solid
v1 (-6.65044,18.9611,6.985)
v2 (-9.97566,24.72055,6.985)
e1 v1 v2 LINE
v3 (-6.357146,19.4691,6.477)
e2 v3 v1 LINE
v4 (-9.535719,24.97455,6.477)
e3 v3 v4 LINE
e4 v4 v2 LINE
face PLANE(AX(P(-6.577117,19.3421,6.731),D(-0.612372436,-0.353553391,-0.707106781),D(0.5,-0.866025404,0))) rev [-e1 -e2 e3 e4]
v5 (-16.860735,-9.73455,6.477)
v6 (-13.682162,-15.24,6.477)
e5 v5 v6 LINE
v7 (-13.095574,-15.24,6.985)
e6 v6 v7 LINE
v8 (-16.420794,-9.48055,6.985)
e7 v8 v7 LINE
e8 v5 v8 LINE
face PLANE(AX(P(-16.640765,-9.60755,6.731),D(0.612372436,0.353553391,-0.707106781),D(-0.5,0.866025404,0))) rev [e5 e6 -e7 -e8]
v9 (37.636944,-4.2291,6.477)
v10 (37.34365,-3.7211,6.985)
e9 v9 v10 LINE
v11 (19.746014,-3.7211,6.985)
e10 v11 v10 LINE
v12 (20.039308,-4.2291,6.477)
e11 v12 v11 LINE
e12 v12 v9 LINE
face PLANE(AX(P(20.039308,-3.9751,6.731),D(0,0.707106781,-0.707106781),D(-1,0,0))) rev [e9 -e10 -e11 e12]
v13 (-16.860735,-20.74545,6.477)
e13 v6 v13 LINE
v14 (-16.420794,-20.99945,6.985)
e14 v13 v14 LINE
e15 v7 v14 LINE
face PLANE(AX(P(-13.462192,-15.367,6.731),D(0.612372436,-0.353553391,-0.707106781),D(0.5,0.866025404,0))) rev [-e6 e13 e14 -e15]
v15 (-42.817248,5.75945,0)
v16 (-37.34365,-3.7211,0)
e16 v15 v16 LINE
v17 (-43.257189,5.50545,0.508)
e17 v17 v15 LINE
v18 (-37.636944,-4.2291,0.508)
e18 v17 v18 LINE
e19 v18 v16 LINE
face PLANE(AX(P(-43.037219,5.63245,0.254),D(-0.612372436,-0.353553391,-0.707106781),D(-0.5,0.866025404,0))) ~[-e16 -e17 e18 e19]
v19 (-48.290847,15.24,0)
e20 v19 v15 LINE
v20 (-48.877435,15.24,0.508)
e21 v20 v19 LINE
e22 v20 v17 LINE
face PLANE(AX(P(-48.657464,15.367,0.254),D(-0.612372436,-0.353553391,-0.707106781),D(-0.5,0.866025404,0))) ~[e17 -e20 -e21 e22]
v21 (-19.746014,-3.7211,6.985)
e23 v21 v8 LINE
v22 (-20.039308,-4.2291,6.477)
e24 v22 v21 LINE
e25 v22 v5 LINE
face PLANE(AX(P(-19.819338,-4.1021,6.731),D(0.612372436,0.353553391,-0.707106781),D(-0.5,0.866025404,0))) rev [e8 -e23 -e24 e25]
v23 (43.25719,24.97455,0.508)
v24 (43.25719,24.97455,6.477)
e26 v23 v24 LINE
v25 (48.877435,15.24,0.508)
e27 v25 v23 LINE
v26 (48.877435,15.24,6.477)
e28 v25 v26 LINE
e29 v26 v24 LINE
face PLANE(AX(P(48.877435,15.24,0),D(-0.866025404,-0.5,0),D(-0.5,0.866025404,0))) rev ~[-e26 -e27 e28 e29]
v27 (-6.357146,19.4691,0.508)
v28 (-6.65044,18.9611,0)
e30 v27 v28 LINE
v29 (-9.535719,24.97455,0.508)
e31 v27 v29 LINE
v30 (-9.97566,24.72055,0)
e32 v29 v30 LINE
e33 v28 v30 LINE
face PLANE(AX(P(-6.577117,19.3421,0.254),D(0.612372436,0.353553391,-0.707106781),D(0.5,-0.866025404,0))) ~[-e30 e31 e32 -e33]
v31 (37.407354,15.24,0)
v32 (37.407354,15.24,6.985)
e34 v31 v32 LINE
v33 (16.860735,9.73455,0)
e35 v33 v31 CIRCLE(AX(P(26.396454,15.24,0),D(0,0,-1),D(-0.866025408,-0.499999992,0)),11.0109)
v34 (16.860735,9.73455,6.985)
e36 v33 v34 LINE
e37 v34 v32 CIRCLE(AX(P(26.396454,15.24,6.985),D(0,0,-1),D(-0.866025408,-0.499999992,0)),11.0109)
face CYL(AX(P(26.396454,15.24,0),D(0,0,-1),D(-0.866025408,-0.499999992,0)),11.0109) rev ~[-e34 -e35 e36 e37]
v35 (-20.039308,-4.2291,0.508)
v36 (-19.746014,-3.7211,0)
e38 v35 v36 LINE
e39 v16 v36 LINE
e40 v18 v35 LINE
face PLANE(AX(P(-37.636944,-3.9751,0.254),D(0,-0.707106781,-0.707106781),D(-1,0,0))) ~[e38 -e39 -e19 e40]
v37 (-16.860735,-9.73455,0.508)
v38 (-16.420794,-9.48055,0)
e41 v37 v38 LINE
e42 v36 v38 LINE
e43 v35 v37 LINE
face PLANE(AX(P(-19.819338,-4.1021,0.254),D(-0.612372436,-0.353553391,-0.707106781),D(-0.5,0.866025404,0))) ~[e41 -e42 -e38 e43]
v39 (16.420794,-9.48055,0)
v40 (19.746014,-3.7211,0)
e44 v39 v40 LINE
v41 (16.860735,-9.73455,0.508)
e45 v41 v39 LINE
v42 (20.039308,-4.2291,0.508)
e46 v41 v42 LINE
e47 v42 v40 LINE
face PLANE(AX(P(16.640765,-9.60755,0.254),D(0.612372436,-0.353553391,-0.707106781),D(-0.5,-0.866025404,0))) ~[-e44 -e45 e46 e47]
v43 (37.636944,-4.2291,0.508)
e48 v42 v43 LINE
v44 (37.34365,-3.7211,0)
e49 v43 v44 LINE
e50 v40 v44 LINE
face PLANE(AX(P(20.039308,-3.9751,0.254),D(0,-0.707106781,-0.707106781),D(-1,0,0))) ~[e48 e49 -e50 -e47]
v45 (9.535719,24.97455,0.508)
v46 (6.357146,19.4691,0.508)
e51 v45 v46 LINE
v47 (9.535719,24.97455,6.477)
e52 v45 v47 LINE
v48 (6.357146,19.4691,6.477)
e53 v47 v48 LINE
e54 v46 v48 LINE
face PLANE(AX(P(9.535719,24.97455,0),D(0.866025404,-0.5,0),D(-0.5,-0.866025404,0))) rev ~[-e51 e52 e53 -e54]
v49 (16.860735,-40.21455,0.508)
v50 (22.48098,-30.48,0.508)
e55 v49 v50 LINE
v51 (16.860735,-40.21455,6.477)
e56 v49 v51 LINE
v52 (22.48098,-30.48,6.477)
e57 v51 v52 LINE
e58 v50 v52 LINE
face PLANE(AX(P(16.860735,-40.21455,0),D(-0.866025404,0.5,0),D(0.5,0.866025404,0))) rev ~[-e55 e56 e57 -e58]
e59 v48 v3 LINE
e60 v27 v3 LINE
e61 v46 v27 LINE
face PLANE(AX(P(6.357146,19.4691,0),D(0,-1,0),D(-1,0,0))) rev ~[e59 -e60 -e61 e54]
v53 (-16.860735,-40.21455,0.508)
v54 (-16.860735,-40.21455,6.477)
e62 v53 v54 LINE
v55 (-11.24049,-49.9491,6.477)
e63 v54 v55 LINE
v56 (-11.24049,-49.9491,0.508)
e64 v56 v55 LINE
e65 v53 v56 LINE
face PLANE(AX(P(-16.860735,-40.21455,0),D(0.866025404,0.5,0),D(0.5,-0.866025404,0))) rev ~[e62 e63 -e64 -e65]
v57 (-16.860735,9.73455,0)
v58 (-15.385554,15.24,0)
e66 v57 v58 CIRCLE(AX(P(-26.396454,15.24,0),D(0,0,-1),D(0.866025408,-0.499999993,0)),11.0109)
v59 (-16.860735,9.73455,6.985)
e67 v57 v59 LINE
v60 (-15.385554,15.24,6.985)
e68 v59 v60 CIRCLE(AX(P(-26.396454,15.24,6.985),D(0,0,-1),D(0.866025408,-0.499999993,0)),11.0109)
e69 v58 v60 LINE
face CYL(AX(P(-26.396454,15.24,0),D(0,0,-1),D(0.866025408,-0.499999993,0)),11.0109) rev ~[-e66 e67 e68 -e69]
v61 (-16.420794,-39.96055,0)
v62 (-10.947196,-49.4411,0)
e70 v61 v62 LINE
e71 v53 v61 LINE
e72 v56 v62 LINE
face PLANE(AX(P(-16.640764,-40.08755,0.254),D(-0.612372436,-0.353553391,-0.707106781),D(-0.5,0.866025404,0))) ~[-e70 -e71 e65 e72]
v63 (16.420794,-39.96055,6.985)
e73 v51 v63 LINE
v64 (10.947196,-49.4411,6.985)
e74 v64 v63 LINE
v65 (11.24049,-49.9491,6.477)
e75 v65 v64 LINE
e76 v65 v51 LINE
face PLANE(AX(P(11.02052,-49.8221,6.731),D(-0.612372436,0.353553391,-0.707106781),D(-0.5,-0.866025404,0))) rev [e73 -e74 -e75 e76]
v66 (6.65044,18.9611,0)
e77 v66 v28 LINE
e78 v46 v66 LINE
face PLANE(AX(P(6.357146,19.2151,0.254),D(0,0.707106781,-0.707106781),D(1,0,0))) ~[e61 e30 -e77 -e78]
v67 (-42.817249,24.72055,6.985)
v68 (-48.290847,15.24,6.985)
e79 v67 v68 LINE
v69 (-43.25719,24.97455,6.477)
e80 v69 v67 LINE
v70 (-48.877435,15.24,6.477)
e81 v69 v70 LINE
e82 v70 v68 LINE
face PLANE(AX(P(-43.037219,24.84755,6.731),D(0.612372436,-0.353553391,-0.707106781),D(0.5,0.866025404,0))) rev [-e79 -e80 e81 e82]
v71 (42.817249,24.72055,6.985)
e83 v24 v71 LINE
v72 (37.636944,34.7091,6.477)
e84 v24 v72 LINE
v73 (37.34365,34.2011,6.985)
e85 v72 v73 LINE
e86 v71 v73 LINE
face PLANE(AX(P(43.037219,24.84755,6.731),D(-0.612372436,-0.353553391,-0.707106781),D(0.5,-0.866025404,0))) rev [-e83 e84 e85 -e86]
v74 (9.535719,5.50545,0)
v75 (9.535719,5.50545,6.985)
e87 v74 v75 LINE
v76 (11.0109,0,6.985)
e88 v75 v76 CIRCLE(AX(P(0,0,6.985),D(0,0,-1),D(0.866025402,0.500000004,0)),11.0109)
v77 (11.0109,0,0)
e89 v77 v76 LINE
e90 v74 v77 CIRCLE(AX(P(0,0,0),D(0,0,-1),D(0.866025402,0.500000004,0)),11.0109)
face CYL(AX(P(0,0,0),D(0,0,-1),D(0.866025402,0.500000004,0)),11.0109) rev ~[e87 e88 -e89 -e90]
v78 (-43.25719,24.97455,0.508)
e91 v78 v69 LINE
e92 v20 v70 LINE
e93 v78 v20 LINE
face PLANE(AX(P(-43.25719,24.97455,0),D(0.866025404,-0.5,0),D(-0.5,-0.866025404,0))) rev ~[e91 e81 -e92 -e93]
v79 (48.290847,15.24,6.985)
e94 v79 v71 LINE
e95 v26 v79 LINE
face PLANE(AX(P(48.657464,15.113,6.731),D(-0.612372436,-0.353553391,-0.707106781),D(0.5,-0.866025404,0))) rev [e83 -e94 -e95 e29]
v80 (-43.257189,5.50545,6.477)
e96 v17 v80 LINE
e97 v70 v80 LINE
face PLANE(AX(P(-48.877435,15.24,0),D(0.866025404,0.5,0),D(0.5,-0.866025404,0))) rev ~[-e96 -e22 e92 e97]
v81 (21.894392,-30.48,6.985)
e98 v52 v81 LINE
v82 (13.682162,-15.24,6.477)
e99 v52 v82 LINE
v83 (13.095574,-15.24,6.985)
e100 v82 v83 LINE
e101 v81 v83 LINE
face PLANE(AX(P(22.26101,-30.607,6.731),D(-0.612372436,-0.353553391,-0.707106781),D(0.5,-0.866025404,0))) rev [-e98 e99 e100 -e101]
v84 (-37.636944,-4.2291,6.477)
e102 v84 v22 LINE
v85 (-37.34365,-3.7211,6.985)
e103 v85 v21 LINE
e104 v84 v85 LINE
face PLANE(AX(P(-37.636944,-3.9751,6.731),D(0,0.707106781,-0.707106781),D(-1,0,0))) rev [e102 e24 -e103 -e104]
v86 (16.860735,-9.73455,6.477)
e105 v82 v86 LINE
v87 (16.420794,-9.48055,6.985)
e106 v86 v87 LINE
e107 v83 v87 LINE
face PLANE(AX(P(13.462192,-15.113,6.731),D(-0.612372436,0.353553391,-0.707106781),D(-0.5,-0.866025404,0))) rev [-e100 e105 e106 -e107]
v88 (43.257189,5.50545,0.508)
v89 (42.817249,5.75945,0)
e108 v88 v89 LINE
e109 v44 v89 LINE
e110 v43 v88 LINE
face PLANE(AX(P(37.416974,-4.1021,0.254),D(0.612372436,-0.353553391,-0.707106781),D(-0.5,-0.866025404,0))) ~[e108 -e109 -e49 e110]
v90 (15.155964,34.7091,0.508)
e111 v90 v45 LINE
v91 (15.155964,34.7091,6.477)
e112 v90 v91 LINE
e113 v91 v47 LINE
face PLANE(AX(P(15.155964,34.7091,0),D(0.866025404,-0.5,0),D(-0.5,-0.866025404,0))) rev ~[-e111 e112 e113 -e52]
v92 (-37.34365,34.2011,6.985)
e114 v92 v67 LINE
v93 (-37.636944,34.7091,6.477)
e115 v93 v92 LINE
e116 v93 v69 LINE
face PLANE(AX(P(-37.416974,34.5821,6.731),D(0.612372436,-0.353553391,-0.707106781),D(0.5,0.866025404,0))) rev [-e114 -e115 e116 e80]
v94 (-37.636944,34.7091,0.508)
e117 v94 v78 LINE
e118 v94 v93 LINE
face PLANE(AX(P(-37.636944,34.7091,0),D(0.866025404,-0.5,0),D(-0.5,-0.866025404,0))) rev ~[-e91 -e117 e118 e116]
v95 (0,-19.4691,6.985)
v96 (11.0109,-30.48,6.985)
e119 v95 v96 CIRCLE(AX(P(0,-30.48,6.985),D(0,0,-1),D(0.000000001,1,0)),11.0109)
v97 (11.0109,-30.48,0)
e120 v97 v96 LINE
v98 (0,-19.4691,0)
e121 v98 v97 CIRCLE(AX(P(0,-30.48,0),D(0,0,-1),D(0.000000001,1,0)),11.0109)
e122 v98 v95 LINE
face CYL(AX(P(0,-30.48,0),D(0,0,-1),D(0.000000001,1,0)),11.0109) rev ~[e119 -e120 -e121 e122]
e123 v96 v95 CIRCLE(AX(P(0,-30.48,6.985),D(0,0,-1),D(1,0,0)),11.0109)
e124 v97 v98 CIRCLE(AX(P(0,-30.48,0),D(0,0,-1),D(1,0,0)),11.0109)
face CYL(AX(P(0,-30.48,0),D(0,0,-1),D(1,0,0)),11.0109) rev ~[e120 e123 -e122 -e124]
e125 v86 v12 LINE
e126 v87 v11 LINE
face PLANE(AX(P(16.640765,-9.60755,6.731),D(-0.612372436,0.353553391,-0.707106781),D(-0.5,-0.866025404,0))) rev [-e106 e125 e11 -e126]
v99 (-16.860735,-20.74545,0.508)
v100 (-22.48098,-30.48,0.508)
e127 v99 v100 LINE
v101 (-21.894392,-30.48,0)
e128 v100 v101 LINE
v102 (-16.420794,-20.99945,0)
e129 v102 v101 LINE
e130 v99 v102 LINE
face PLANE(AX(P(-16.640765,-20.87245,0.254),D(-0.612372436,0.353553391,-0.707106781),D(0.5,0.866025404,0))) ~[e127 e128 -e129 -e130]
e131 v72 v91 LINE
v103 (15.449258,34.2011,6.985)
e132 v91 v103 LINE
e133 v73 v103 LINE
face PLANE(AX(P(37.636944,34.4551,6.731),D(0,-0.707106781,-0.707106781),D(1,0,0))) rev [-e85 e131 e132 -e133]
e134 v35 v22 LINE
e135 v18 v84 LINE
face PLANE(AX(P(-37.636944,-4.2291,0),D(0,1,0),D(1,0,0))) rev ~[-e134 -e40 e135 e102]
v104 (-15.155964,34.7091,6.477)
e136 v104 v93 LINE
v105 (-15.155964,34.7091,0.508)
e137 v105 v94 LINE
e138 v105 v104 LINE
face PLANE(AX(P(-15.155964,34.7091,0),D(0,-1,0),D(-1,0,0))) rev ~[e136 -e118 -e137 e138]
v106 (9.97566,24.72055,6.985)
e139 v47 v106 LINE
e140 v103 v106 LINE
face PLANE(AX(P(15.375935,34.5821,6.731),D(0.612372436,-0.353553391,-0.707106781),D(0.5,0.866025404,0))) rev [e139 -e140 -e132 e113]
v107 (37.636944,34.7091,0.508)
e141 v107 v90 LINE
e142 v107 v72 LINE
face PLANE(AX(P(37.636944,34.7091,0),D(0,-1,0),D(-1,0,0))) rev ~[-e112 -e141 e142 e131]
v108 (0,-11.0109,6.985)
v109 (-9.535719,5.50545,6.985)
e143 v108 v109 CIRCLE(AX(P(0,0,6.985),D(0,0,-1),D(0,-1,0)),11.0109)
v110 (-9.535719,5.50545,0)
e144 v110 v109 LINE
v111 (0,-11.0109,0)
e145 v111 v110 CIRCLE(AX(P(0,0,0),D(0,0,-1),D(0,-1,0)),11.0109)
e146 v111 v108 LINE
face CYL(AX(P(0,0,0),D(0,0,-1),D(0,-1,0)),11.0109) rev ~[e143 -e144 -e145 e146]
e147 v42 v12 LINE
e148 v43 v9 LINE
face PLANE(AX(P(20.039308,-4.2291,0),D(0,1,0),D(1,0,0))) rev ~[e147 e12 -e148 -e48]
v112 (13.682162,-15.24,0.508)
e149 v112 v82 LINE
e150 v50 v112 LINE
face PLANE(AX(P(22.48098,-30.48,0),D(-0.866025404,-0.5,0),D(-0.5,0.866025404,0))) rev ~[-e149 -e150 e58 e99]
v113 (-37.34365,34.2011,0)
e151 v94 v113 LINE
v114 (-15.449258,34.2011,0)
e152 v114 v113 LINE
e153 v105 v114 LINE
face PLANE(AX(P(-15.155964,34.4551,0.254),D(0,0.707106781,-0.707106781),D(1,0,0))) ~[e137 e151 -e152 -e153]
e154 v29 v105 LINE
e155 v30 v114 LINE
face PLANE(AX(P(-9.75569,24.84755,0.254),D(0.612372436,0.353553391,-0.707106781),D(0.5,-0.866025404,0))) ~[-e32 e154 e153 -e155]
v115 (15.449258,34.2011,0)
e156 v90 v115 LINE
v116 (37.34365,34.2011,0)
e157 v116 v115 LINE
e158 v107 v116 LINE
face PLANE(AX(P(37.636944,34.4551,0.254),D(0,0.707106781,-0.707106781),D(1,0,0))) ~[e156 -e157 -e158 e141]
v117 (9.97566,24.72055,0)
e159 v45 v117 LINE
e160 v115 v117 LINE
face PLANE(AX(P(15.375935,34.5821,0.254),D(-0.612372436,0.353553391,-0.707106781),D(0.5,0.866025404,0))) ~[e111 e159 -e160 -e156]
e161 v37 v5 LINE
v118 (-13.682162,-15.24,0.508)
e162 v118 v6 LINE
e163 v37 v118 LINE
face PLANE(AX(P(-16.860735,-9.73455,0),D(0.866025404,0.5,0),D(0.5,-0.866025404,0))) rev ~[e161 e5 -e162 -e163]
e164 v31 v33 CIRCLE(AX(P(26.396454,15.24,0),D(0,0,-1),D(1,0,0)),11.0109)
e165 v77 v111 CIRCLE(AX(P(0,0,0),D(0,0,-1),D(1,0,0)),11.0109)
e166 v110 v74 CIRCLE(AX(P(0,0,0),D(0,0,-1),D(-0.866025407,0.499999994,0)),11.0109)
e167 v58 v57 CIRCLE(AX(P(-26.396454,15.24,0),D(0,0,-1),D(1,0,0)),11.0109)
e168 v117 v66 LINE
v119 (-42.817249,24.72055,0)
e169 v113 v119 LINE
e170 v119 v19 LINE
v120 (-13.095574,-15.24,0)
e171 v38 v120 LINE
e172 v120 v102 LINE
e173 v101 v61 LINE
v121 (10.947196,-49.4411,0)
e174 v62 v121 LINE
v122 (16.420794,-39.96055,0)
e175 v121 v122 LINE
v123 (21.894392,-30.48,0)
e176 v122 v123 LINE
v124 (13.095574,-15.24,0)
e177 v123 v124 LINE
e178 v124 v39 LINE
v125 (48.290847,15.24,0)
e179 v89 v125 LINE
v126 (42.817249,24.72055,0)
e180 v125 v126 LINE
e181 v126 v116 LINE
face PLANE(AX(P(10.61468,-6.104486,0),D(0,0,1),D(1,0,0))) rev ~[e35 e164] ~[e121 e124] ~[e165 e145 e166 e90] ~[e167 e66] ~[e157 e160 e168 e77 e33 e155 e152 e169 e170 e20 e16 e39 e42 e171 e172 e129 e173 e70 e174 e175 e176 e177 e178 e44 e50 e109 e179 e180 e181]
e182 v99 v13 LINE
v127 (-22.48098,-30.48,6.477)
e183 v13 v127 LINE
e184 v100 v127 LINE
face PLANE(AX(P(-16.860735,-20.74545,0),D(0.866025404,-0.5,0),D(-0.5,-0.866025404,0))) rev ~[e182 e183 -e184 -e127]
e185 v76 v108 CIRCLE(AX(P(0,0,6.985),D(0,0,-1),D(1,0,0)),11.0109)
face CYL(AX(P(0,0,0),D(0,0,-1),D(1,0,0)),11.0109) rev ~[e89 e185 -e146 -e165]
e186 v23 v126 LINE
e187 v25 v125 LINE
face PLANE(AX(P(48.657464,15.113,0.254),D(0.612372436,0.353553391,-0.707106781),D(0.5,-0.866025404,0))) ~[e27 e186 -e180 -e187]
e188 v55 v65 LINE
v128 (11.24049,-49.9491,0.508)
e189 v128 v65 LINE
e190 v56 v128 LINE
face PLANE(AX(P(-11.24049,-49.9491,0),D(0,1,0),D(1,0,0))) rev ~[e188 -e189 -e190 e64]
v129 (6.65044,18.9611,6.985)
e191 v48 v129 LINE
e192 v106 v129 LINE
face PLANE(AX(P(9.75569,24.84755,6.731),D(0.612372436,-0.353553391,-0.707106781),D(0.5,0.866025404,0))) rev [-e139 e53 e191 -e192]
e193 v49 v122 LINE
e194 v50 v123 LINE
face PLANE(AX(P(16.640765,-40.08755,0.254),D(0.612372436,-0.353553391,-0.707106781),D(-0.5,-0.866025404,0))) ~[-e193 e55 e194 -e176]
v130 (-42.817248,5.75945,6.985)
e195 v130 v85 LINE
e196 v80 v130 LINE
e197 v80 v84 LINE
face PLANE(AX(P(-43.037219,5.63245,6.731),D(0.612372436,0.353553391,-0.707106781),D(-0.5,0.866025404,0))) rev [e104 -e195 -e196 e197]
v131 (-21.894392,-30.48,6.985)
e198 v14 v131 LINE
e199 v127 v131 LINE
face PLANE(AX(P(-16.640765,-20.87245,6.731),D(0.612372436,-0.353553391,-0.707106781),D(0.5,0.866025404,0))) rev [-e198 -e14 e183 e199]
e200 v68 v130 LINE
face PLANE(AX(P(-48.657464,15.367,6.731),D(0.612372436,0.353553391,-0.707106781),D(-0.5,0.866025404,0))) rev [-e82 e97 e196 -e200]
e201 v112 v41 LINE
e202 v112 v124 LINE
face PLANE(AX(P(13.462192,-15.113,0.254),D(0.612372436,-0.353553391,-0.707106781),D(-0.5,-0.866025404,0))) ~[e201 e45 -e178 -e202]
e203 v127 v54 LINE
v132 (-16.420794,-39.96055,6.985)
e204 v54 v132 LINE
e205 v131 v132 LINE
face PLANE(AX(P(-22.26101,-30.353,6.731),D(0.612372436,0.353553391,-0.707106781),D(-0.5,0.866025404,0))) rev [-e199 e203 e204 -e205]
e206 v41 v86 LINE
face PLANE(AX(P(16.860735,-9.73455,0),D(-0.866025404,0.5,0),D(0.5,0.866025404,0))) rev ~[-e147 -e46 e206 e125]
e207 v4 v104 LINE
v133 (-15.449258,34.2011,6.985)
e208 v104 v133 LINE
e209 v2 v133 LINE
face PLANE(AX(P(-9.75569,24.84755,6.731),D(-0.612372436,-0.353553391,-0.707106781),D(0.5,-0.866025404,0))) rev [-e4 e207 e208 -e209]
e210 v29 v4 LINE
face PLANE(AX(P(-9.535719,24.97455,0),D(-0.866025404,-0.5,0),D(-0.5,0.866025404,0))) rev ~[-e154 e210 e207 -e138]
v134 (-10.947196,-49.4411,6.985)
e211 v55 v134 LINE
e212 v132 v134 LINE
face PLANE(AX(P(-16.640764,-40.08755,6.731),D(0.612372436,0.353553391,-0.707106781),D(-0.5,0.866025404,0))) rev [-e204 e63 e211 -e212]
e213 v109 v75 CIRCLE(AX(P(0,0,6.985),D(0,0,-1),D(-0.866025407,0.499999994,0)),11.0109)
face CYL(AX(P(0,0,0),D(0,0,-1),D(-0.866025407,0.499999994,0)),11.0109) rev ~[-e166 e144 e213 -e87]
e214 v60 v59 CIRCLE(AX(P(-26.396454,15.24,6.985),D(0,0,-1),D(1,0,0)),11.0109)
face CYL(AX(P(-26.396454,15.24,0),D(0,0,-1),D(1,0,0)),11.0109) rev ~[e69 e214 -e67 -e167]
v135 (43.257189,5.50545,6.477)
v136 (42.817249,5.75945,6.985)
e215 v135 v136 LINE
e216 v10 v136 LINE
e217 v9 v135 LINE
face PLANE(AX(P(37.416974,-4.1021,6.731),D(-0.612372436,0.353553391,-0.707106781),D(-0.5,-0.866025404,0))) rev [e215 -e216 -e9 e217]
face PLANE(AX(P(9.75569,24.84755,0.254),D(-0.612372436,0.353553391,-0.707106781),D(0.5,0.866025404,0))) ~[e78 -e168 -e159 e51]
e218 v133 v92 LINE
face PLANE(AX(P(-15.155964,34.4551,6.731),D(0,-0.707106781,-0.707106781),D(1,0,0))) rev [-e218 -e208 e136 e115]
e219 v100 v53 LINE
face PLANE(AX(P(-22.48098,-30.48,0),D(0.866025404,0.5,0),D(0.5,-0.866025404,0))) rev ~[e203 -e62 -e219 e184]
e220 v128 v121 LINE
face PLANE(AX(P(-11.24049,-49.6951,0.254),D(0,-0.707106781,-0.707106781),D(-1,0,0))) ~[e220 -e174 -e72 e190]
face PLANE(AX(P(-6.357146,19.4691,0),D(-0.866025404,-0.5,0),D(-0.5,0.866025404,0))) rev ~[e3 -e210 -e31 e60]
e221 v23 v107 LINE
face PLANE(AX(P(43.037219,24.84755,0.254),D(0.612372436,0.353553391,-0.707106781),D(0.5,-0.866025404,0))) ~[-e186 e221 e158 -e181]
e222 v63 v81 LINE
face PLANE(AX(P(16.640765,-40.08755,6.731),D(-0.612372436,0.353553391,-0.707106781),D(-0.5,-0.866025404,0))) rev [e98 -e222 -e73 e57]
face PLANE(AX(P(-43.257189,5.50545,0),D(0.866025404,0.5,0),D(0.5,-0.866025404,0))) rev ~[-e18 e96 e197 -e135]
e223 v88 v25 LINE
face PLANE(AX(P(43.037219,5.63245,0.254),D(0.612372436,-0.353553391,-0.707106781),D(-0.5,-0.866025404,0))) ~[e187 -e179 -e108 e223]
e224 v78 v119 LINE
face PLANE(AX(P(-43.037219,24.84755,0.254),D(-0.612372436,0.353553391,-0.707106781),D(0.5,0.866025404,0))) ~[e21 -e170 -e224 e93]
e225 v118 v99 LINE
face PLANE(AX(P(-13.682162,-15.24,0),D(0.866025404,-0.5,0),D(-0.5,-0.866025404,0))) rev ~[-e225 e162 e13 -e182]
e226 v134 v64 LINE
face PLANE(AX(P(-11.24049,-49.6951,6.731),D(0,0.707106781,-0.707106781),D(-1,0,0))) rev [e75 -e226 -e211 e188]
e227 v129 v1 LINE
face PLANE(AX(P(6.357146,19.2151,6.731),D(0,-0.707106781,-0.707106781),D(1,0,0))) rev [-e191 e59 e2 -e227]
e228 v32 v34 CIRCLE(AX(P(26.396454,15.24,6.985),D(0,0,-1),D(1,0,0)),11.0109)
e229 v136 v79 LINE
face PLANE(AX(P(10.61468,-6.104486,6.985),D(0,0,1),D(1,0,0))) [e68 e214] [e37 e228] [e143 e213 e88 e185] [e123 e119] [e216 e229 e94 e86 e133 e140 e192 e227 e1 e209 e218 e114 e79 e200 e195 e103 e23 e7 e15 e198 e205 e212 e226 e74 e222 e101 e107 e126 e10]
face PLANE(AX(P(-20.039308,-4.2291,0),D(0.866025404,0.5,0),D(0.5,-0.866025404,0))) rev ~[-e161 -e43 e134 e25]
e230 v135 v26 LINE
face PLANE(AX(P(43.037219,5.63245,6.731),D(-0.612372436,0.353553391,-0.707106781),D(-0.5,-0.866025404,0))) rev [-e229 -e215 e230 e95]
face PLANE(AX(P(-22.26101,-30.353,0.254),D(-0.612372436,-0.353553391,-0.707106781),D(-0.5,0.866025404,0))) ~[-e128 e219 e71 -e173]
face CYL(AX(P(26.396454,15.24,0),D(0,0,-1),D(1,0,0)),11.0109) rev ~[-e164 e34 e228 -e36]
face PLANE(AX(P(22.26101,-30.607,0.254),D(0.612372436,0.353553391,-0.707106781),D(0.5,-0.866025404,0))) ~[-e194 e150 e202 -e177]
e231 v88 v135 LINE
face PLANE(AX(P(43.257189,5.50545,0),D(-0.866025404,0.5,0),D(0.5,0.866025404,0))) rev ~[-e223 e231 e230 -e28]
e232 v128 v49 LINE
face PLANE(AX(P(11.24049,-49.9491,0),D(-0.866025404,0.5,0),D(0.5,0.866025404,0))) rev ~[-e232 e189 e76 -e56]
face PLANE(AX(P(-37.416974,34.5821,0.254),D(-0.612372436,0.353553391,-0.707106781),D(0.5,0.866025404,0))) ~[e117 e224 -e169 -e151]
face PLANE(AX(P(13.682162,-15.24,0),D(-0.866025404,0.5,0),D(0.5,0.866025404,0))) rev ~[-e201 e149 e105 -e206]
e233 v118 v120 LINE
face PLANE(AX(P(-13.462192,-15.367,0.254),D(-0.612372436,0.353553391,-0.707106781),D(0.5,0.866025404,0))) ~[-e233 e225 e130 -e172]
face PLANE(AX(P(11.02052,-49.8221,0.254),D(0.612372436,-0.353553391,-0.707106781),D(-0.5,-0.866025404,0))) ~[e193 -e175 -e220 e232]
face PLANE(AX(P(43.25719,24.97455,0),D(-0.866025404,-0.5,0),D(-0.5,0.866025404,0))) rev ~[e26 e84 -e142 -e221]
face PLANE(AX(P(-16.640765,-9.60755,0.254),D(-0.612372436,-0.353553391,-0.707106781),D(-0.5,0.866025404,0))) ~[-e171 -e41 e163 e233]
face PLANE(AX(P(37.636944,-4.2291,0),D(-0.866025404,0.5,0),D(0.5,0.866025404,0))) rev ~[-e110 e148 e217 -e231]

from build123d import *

# Parameters (mm, degrees)
F1_DEPTH = 6.985
F2_SIZE  = 0.508


with BuildPart() as f1:
    # F0 (on Top) → F1 (new body)
    with BuildSketch(Plane.XY):
        with BuildLine():
            ThreePointArc((9.5357190946, 5.5054500415), (10.6357126745, 2.8498306468), (11.0109, 0))
            ThreePointArc((11.0109, 0), (7.7858820574, -7.7858820566), (1.1e-09, -11.0109))
            Line((1.1e-09, -11.0109), (11.2404901259, -11.0109))
            Line((11.2404901259, -11.0109), (13.1646205371, -14.3435916326))
            ThreePointArc((13.1646205371, -14.3435916326), (15.1885256674, -12.180087966), (16.8607351436, -9.7345500784))
            ThreePointArc((16.8607351436, -9.7345500784), (18.1425283998, -7.0636051754), (19.0042250039, -4.2291))
            Line((19.0042250039, -4.2291), (15.1559641815, -4.2291))
            Line((15.1559641815, -4.2291), (9.5357190946, 5.5054500415))
        make_face()
        with BuildLine():
            ThreePointArc((-9.5357191578, 5.5054499319), (-6.32e-08, 11.0109), (9.5357190946, 5.5054500415))
            Line((9.5357190946, 5.5054500415), (3.9154740556, 15.24))
            Line((3.9154740556, 15.24), (5.8396044668, 18.5726916326))
            ThreePointArc((5.8396044668, 18.5726916326), (2.9540027205, 19.2436930639), (0, 19.4691))
            ThreePointArc((0, 19.4691), (-2.9540027205, 19.2436930639), (-5.8396044668, 18.5726916326))
            Line((-5.8396044668, 18.5726916326), (-3.9154740556, 15.24))
            Line((-3.9154740556, 15.24), (-9.5357191578, 5.5054499319))
        make_face()
        with BuildLine():
            Line((-11.2404901259, -11.0109), (1.1e-09, -11.0109))
            ThreePointArc((1.1e-09, -11.0109), (-9.5357190986, -5.5054500345), (-9.5357191578, 5.5054499319))
            Line((-9.5357191578, 5.5054499319), (-15.1559641815, -4.2291))
            Line((-15.1559641815, -4.2291), (-19.0042250039, -4.2291))
            ThreePointArc((-19.0042250039, -4.2291), (-18.1425283538, -7.0636052934), (-16.8607350169, -9.7345502977))
            ThreePointArc((-16.8607350169, -9.7345502977), (-15.1885255882, -12.1800880648), (-13.1646205371, -14.3435916326))
            Line((-13.1646205371, -14.3435916326), (-11.2404901259, -11.0109))
        make_face()
        with BuildLine():
            Line((11.2404901259, 19.4691), (16.8607351393, 9.7345500857))
            Line((16.8607351393, 9.7345500857), (22.4809802518, 0))
            Line((22.4809802518, 0), (20.5568498405, -3.3326916326))
            ThreePointArc((20.5568498405, -3.3326916326), (23.4424515869, -4.0036930639), (26.3964543074, -4.2291))
            ThreePointArc((26.3964543074, -4.2291), (36.1310042357, -1.6207352302), (43.2571894135, 5.5054498567))
            ThreePointArc((43.2571894135, 5.5054498567), (45.2021607905, 10.2010260491), (45.8655543073, 15.24))
            ThreePointArc((45.8655543073, 15.24), (45.2021608159, 20.2789738562), (43.2571895115, 24.9745499735))
            ThreePointArc((43.2571895115, 24.9745499735), (36.1310043206, 32.1007351812), (26.3964543074, 34.7091))
            ThreePointArc((26.3964543074, 34.7091), (16.6619043065, 32.1007351883), (9.5357191175, 24.9745499982))
            ThreePointArc((9.5357191175, 24.9745499982), (8.2539258908, 22.3036051322), (7.3922293034, 19.4691))
            Line((7.3922293034, 19.4691), (11.2404901259, 19.4691))
        make_face()
        with BuildLine():
            ThreePointArc((37.4073543073, 15.24), (29.2462848833, 4.6042873065), (16.8607351393, 9.7345500857))
            ThreePointArc((16.8607351393, 9.7345500857), (23.5466237314, 25.8757126935), (37.4073543073, 15.24))
        make_face(mode=Mode.SUBTRACT)
        with BuildLine():
            ThreePointArc((5.8396044668, 18.5726916326), (6.4940895018, 18.3540909977), (7.1404170128, 18.1124349465))
            ThreePointArc((7.1404170128, 18.1124349465), (7.2543004891, 18.7929990159), (7.3922293034, 19.4691))
            Line((7.3922293034, 19.4691), (6.357146079, 19.4691))
            Line((6.357146079, 19.4691), (5.8396044668, 18.5726916326))
        make_face()
        with BuildLine():
            ThreePointArc((20.5568498405, -3.3326916326), (19.9023648056, -3.1140909977), (19.2560372945, -2.8724349465))
            ThreePointArc((19.2560372945, -2.8724349465), (19.1421538183, -3.5529990159), (19.0042250039, -4.2291))
            Line((19.0042250039, -4.2291), (20.0393082283, -4.2291))
            Line((20.0393082283, -4.2291), (20.5568498405, -3.3326916326))
        make_face()
        with BuildLine():
            Line((11.2404901259, -19.4691), (8.1e-09, -19.4691))
            Line((8.1e-09, -19.4691), (-11.2404901259, -19.4691))
            Line((-11.2404901259, -19.4691), (-13.1646205371, -16.1364083674))
            ThreePointArc((-13.1646205371, -16.1364083674), (-15.1885255682, -18.2999119102), (-16.8607349849, -20.7454496469))
            ThreePointArc((-16.8607349849, -20.7454496469), (-19.4691, -30.4800000374), (-16.8607349475, -40.214550418))
            ThreePointArc((-16.8607349475, -40.214550418), (-9.734549801, -47.3407353037), (-2.3e-08, -49.9491))
            ThreePointArc((-2.3e-08, -49.9491), (9.7345501407, -47.3407351076), (16.8607353627, -40.2145496988))
            ThreePointArc((16.8607353627, -40.2145496988), (18.8057065496, -35.518973703), (19.4691, -30.48))
            ThreePointArc((19.4691, -30.48), (18.8057064421, -25.4410258959), (16.8607349475, -20.745449582))
            ThreePointArc((16.8607349475, -20.745449582), (15.1885255448, -18.299911881), (13.1646205371, -16.1364083674))
            Line((13.1646205371, -16.1364083674), (11.2404901259, -19.4691))
        make_face()
        with BuildLine():
            ThreePointArc((11.0109, -30.48), (-7.7858820598, -38.2658820541), (8.1e-09, -19.4691))
            ThreePointArc((8.1e-09, -19.4691), (7.7858820598, -22.6941179459), (11.0109, -30.48))
        make_face(mode=Mode.SUBTRACT)
        with BuildLine():
            ThreePointArc((13.1646205371, -14.3435916326), (12.6480643165, -14.8010919819), (12.1156202817, -15.24))
            ThreePointArc((12.1156202817, -15.24), (12.6480643165, -15.6789080181), (13.1646205371, -16.1364083674))
            Line((13.1646205371, -16.1364083674), (13.6821621493, -15.24))
            Line((13.6821621493, -15.24), (13.1646205371, -14.3435916326))
        make_face()
        with BuildLine():
            ThreePointArc((-13.1646205371, -16.1364083674), (-12.6480643165, -15.6789080181), (-12.1156202817, -15.24))
            ThreePointArc((-12.1156202817, -15.24), (-12.6480643165, -14.8010919819), (-13.1646205371, -14.3435916326))
            Line((-13.1646205371, -14.3435916326), (-13.6821621493, -15.24))
            Line((-13.6821621493, -15.24), (-13.1646205371, -16.1364083674))
        make_face()
        with BuildLine():
            Line((-22.4809802518, 0), (-16.8607351415, 9.7345500819))
            Line((-16.8607351415, 9.7345500819), (-11.2404901259, 19.4691))
            Line((-11.2404901259, 19.4691), (-7.3922293034, 19.4691))
            ThreePointArc((-7.3922293034, 19.4691), (-8.2539258856, 22.3036051189), (-9.5357191032, 24.9745499735))
            ThreePointArc((-9.5357191032, 24.9745499735), (-16.6619042941, 32.1007351812), (-26.3964543073, 34.7091))
            ThreePointArc((-26.3964543073, 34.7091), (-36.1310043206, 32.1007351812), (-43.2571895115, 24.9745499735))
            ThreePointArc((-43.2571895115, 24.9745499735), (-45.8655543073, 15.2399997434), (-43.2571892549, 5.505449582))
            ThreePointArc((-43.2571892549, 5.505449582), (-36.1310040984, -1.6207353095), (-26.3964543073, -4.2291))
            ThreePointArc((-26.3964543073, -4.2291), (-23.4424515869, -4.0036930639), (-20.5568498405, -3.3326916326))
            Line((-20.5568498405, -3.3326916326), (-22.4809802518, 0))
        make_face()
        with BuildLine():
            ThreePointArc((-15.3855543073, 15.24), (-15.7607416144, 12.390169422), (-16.8607351415, 9.7345500819))
            ThreePointArc((-16.8607351415, 9.7345500819), (-37.0321670003, 18.089830578), (-15.3855543073, 15.24))
        make_face(mode=Mode.SUBTRACT)
        with BuildLine():
            ThreePointArc((-19.0042250039, -4.2291), (-19.1421538183, -3.5529990159), (-19.2560372945, -2.8724349465))
            ThreePointArc((-19.2560372945, -2.8724349465), (-19.9023648056, -3.1140909977), (-20.5568498405, -3.3326916326))
            Line((-20.5568498405, -3.3326916326), (-20.0393082283, -4.2291))
            Line((-20.0393082283, -4.2291), (-19.0042250039, -4.2291))
        make_face()
        with BuildLine():
            ThreePointArc((0, 19.4691), (2.9540027205, 19.2436930639), (5.8396044668, 18.5726916326))
            Line((5.8396044668, 18.5726916326), (6.357146079, 19.4691))
            Line((6.357146079, 19.4691), (0, 19.4691))
        make_face()
        with BuildLine():
            Line((6.357146079, 19.4691), (7.3922293034, 19.4691))
            ThreePointArc((7.3922293034, 19.4691), (8.2539258908, 22.3036051322), (9.5357191175, 24.9745499982))
            Line((9.5357191175, 24.9745499982), (6.357146079, 19.4691))
        make_face()
        with BuildLine():
            Line((20.0393082283, -4.2291), (19.0042250039, -4.2291))
            ThreePointArc((19.0042250039, -4.2291), (18.1425283998, -7.0636051754), (16.8607351436, -9.7345500784))
            Line((16.8607351436, -9.7345500784), (20.0393082283, -4.2291))
        make_face()
        with BuildLine():
            ThreePointArc((26.3964543074, -4.2291), (23.4424515869, -4.0036930639), (20.5568498405, -3.3326916326))
            Line((20.5568498405, -3.3326916326), (20.0393082283, -4.2291))
            Line((20.0393082283, -4.2291), (26.3964543074, -4.2291))
        make_face()
        with BuildLine():
            ThreePointArc((16.8607351436, -9.7345500784), (15.1885256674, -12.180087966), (13.1646205371, -14.3435916326))
            Line((13.1646205371, -14.3435916326), (13.6821621493, -15.24))
            Line((13.6821621493, -15.24), (16.8607351436, -9.7345500784))
        make_face()
        with BuildLine():
            Line((13.6821621493, -15.24), (13.1646205371, -16.1364083674))
            ThreePointArc((13.1646205371, -16.1364083674), (15.1885255448, -18.299911881), (16.8607349475, -20.745449582))
            Line((16.8607349475, -20.745449582), (13.6821621493, -15.24))
        make_face()
        with BuildLine():
            Line((-13.6821621493, -15.24), (-13.1646205371, -14.3435916326))
            ThreePointArc((-13.1646205371, -14.3435916326), (-15.1885255882, -12.1800880648), (-16.8607350169, -9.7345502977))
            Line((-16.8607350169, -9.7345502977), (-13.6821621493, -15.24))
        make_face()
        with BuildLine():
            ThreePointArc((-16.8607349849, -20.7454496469), (-15.1885255682, -18.2999119102), (-13.1646205371, -16.1364083674))
            Line((-13.1646205371, -16.1364083674), (-13.6821621493, -15.24))
            Line((-13.6821621493, -15.24), (-16.8607349849, -20.7454496469))
        make_face()
        with BuildLine():
            ThreePointArc((-7.3922293034, 19.4691), (-7.2543004891, 18.7929990159), (-7.1404170128, 18.1124349465))
            ThreePointArc((-7.1404170128, 18.1124349465), (-6.4940895018, 18.3540909977), (-5.8396044668, 18.5726916326))
            Line((-5.8396044668, 18.5726916326), (-6.357146079, 19.4691))
            Line((-6.357146079, 19.4691), (-7.3922293034, 19.4691))
        make_face()
        with BuildLine():
            Line((-20.0393082283, -4.2291), (-20.5568498405, -3.3326916326))
            ThreePointArc((-20.5568498405, -3.3326916326), (-23.4424515869, -4.0036930639), (-26.3964543073, -4.2291))
            Line((-26.3964543073, -4.2291), (-20.0393082283, -4.2291))
        make_face()
        with BuildLine():
            ThreePointArc((-16.8607350169, -9.7345502977), (-18.1425283538, -7.0636052934), (-19.0042250039, -4.2291))
            Line((-19.0042250039, -4.2291), (-20.0393082283, -4.2291))
            Line((-20.0393082283, -4.2291), (-16.8607350169, -9.7345502977))
        make_face()
        with BuildLine():
            Line((-6.357146079, 19.4691), (-5.8396044668, 18.5726916326))
            ThreePointArc((-5.8396044668, 18.5726916326), (-2.9540027205, 19.2436930639), (0, 19.4691))
            Line((0, 19.4691), (-6.357146079, 19.4691))
        make_face()
        with BuildLine():
            Line((15.1559641815, 34.7091), (9.5357191175, 24.9745499982))
            ThreePointArc((9.5357191175, 24.9745499982), (16.6619043065, 32.1007351883), (26.3964543074, 34.7091))
            Line((26.3964543074, 34.7091), (15.1559641815, 34.7091))
        make_face()
        with BuildLine():
            ThreePointArc((43.2571894135, 5.5054498567), (36.1310042357, -1.6207352302), (26.3964543074, -4.2291))
            Line((26.3964543074, -4.2291), (37.6369444332, -4.2291))
            Line((37.6369444332, -4.2291), (43.2571894135, 5.5054498567))
        make_face()
        with BuildLine():
            Line((22.4809802518, -30.48), (16.8607349475, -20.745449582))
            ThreePointArc((16.8607349475, -20.745449582), (18.8057064421, -25.4410258959), (19.4691, -30.48))
            ThreePointArc((19.4691, -30.48), (18.8057065496, -35.518973703), (16.8607353627, -40.2145496988))
            Line((16.8607353627, -40.2145496988), (22.4809802518, -30.48))
        make_face()
        with BuildLine():
            ThreePointArc((-16.8607349475, -40.214550418), (-19.4691, -30.4800000374), (-16.8607349849, -20.7454496469))
            Line((-16.8607349849, -20.7454496469), (-22.4809802518, -30.48))
            Line((-22.4809802518, -30.48), (-16.8607349475, -40.214550418))
        make_face()
        with BuildLine():
            ThreePointArc((-9.5357191032, 24.9745499735), (-8.2539258856, 22.3036051189), (-7.3922293034, 19.4691))
            Line((-7.3922293034, 19.4691), (-6.357146079, 19.4691))
            Line((-6.357146079, 19.4691), (-9.5357191032, 24.9745499735))
        make_face()
        with BuildLine():
            Line((-37.6369444332, -4.2291), (-26.3964543073, -4.2291))
            ThreePointArc((-26.3964543073, -4.2291), (-36.1310040984, -1.6207353095), (-43.2571892549, 5.505449582))
            Line((-43.2571892549, 5.505449582), (-37.6369444332, -4.2291))
        make_face()
        with BuildLine():
            Line((37.6369444332, 34.7091), (26.3964543074, 34.7091))
            ThreePointArc((26.3964543074, 34.7091), (36.1310043206, 32.1007351812), (43.2571895115, 24.9745499735))
            Line((43.2571895115, 24.9745499735), (37.6369444332, 34.7091))
        make_face()
        with BuildLine():
            ThreePointArc((45.8655543073, 15.24), (45.2021607905, 10.2010260491), (43.2571894135, 5.5054498567))
            Line((43.2571894135, 5.5054498567), (48.8774345591, 15.24))
            Line((48.8774345591, 15.24), (43.2571895115, 24.9745499735))
            ThreePointArc((43.2571895115, 24.9745499735), (45.2021608159, 20.2789738562), (45.8655543073, 15.24))
        make_face()
        with BuildLine():
            ThreePointArc((-2.3e-08, -49.9491), (-9.734549801, -47.3407353037), (-16.8607349475, -40.214550418))
            Line((-16.8607349475, -40.214550418), (-11.2404901259, -49.9491))
            Line((-11.2404901259, -49.9491), (-2.3e-08, -49.9491))
        make_face()
        with BuildLine():
            ThreePointArc((-26.3964543073, 34.7091), (-16.6619042941, 32.1007351812), (-9.5357191032, 24.9745499735))
            Line((-9.5357191032, 24.9745499735), (-15.1559641815, 34.7091))
            Line((-15.1559641815, 34.7091), (-26.3964543073, 34.7091))
        make_face()
        with BuildLine():
            Line((-48.8774345591, 15.24), (-43.2571892549, 5.505449582))
            ThreePointArc((-43.2571892549, 5.505449582), (-45.8655543073, 15.2399997434), (-43.2571895115, 24.9745499735))
            Line((-43.2571895115, 24.9745499735), (-48.8774345591, 15.24))
        make_face()
        with BuildLine():
            Line((11.2404901259, -49.9491), (16.8607353627, -40.2145496988))
            ThreePointArc((16.8607353627, -40.2145496988), (9.7345501407, -47.3407351076), (-2.3e-08, -49.9491))
            Line((-2.3e-08, -49.9491), (11.2404901259, -49.9491))
        make_face()
        with BuildLine():
            ThreePointArc((-43.2571895115, 24.9745499735), (-36.1310043206, 32.1007351812), (-26.3964543073, 34.7091))
            Line((-26.3964543073, 34.7091), (-37.6369444332, 34.7091))
            Line((-37.6369444332, 34.7091), (-43.2571895115, 24.9745499735))
        make_face()
        with BuildLine():
            ThreePointArc((12.1156202817, -15.24), (6.4162594564, -12.0985563843), (1.1e-09, -11.0109))
            Line((0, -11.0109), (0, -19.4691))
            ThreePointArc((8.1e-09, -19.4691), (6.4162594597, -18.3814436146), (12.1156202817, -15.24))
        make_face()
        with BuildLine():
            Line((11.2404901259, -11.0109), (1.1e-09, -11.0109))
            ThreePointArc((1.1e-09, -11.0109), (6.4162594564, -12.0985563843), (12.1156202817, -15.24))
            ThreePointArc((12.1156202817, -15.24), (12.6480643165, -14.8010919819), (13.1646205371, -14.3435916326))
            Line((13.1646205371, -14.3435916326), (11.2404901259, -11.0109))
        make_face()
        with BuildLine():
            ThreePointArc((12.1156202817, -15.24), (6.4162594597, -18.3814436146), (8.1e-09, -19.4691))
            Line((8.1e-09, -19.4691), (11.2404901259, -19.4691))
            Line((11.2404901259, -19.4691), (13.1646205371, -16.1364083674))
            ThreePointArc((13.1646205371, -16.1364083674), (12.6480643165, -15.6789080181), (12.1156202817, -15.24))
        make_face()
        with BuildLine():
            Line((0, -19.4691), (0, -11.0109))
            ThreePointArc((1.1e-09, -11.0109), (-6.4162594553, -12.0985563839), (-12.1156202817, -15.24))
            ThreePointArc((-12.1156202817, -15.24), (-6.416259452, -18.3814436173), (8.1e-09, -19.4691))
        make_face()
        with BuildLine():
            Line((-11.2404901259, -19.4691), (8.1e-09, -19.4691))
            ThreePointArc((8.1e-09, -19.4691), (-6.416259452, -18.3814436173), (-12.1156202817, -15.24))
            ThreePointArc((-12.1156202817, -15.24), (-12.6480643165, -15.6789080181), (-13.1646205371, -16.1364083674))
            Line((-13.1646205371, -16.1364083674), (-11.2404901259, -19.4691))
        make_face()
        with BuildLine():
            ThreePointArc((-12.1156202817, -15.24), (-6.4162594553, -12.0985563839), (1.1e-09, -11.0109))
            Line((1.1e-09, -11.0109), (-11.2404901259, -11.0109))
            Line((-11.2404901259, -11.0109), (-13.1646205371, -14.3435916326))
            ThreePointArc((-13.1646205371, -14.3435916326), (-12.6480643165, -14.8010919819), (-12.1156202817, -15.24))
        make_face()
        with BuildLine():
            Line((16.8607351888, 9.73455), (9.5357191185, 5.50545))
            ThreePointArc((9.5357190946, 5.5054500415), (13.6857868875, 0.4926345216), (19.2560372945, -2.8724349465))
            ThreePointArc((19.2560372945, -2.8724349465), (19.4157612586, -1.4401630323), (19.4691, 0))
            ThreePointArc((19.4691, 0), (18.8057064918, 5.0389739188), (16.8607351393, 9.7345500857))
        make_face()
        with BuildLine():
            ThreePointArc((7.1404170128, 18.1124349465), (7.2695274453, 11.6059219016), (9.5357190946, 5.5054500415))
            Line((9.5357191185, 5.50545), (16.8607351888, 9.73455))
            ThreePointArc((16.8607351393, 9.7345500857), (12.7106673642, 14.7473655263), (7.1404170128, 18.1124349465))
        make_face()
        with BuildLine():
            ThreePointArc((7.1404170128, 18.1124349465), (12.7106673642, 14.7473655263), (16.8607351393, 9.7345500857))
            Line((16.8607351393, 9.7345500857), (11.2404901259, 19.4691))
            Line((11.2404901259, 19.4691), (7.3922293034, 19.4691))
            ThreePointArc((7.3922293034, 19.4691), (7.2543004891, 18.7929990159), (7.1404170128, 18.1124349465))
        make_face()
        with BuildLine():
            Line((-16.8607351888, 9.73455), (-9.5357191185, 5.50545))
            ThreePointArc((-9.5357191578, 5.5054499319), (-7.5907478129, 10.201026091), (-6.9273543073, 15.24))
            ThreePointArc((-6.9273543073, 15.24), (-6.9806930488, 16.6801630323), (-7.1404170128, 18.1124349465))
            ThreePointArc((-7.1404170128, 18.1124349465), (-12.7106673658, 14.7473655249), (-16.8607351415, 9.7345500819))
        make_face()
        with BuildLine():
            Line((-11.2404901259, 19.4691), (-16.8607351415, 9.7345500819))
            ThreePointArc((-16.8607351415, 9.7345500819), (-12.7106673658, 14.7473655249), (-7.1404170128, 18.1124349465))
            ThreePointArc((-7.1404170128, 18.1124349465), (-7.2543004891, 18.7929990159), (-7.3922293034, 19.4691))
            Line((-7.3922293034, 19.4691), (-11.2404901259, 19.4691))
        make_face()
        with BuildLine():
            ThreePointArc((-6.9273543073, 15.24), (-7.5907478129, 10.201026091), (-9.5357191578, 5.5054499319))
            Line((-9.5357191578, 5.5054499319), (-3.9154740556, 15.24))
            Line((-3.9154740556, 15.24), (-5.8396044668, 18.5726916326))
            ThreePointArc((-5.8396044668, 18.5726916326), (-6.4940895018, 18.3540909977), (-7.1404170128, 18.1124349465))
            ThreePointArc((-7.1404170128, 18.1124349465), (-6.9806930488, 16.6801630323), (-6.9273543073, 15.24))
        make_face()
        with BuildLine():
            ThreePointArc((-19.2560372945, -2.8724349465), (-19.1269268487, 3.6340781684), (-16.8607351415, 9.7345500819))
            Line((-16.8607351415, 9.7345500819), (-22.4809802518, 0))
            Line((-22.4809802518, 0), (-20.5568498405, -3.3326916326))
            ThreePointArc((-20.5568498405, -3.3326916326), (-19.9023648056, -3.1140909977), (-19.2560372945, -2.8724349465))
        make_face()
        with BuildLine():
            Line((-15.1559641815, -4.2291), (-9.5357191578, 5.5054499319))
            ThreePointArc((-9.5357191578, 5.5054499319), (-13.6857869354, 0.4926344803), (-19.2560372945, -2.8724349465))
            ThreePointArc((-19.2560372945, -2.8724349465), (-19.1421538183, -3.5529990159), (-19.0042250039, -4.2291))
            Line((-19.0042250039, -4.2291), (-15.1559641815, -4.2291))
        make_face()
        with BuildLine():
            Line((3.9154740556, 15.24), (9.5357190946, 5.5054500415))
            ThreePointArc((9.5357190946, 5.5054500415), (7.2695274453, 11.6059219016), (7.1404170128, 18.1124349465))
            ThreePointArc((7.1404170128, 18.1124349465), (6.4940895018, 18.3540909977), (5.8396044668, 18.5726916326))
            Line((5.8396044668, 18.5726916326), (3.9154740556, 15.24))
        make_face()
        with BuildLine():
            ThreePointArc((-19.2560372945, -2.8724349465), (-13.6857869354, 0.4926344803), (-9.5357191578, 5.5054499319))
            Line((-9.5357191185, 5.50545), (-16.8607351888, 9.73455))
            ThreePointArc((-16.8607351415, 9.7345500819), (-19.1269268487, 3.6340781684), (-19.2560372945, -2.8724349465))
        make_face()
        with BuildLine():
            ThreePointArc((19.2560372945, -2.8724349465), (13.6857868875, 0.4926345216), (9.5357190946, 5.5054500415))
            Line((9.5357190946, 5.5054500415), (15.1559641815, -4.2291))
            Line((15.1559641815, -4.2291), (19.0042250039, -4.2291))
            ThreePointArc((19.0042250039, -4.2291), (19.1421538183, -3.5529990159), (19.2560372945, -2.8724349465))
        make_face()
        with BuildLine():
            Line((22.4809802518, 0), (16.8607351393, 9.7345500857))
            ThreePointArc((16.8607351393, 9.7345500857), (18.8057064918, 5.0389739188), (19.4691, 0))
            ThreePointArc((19.4691, 0), (19.4157612586, -1.4401630323), (19.2560372945, -2.8724349465))
            ThreePointArc((19.2560372945, -2.8724349465), (19.9023648056, -3.1140909977), (20.5568498405, -3.3326916326))
            Line((20.5568498405, -3.3326916326), (22.4809802518, 0))
        make_face()
    extrude(amount=F1_DEPTH)

    # F2
    f2_edges = [f1.edges().sort_by_distance(p)[0] for p in [
        (-43.257189, 24.97455, 6.985),
        (-26.396454, 34.7091, 6.985),
        (-10.756555, 27.0891, 6.985),
        (0, 19.4691, 6.985),
        (10.756555, 27.0891, 6.985),
        (26.396454, 34.7091, 6.985),
        (43.257189, 24.97455, 6.985),
        (43.257189, 5.50545, 6.985),
        (28.838126, -4.2291, 6.985),
        (16.860735, -9.73455, 6.985),
        (18.081571, -22.86, 6.985),
        (16.860735, -40.21455, 6.985),
        (0, -49.9491, 6.985),
        (-16.860735, -40.21455, 6.985),
        (-18.081571, -22.86, 6.985),
        (-16.860735, -9.73455, 6.985),
        (-28.838126, -4.2291, 6.985),
        (-43.257189, 5.50545, 6.985),
        (43.257189, 24.97455, 0),
        (26.396454, 34.7091, 0),
        (10.756555, 27.0891, 0),
        (0, 19.4691, 0),
        (43.257189, 5.50545, 0),
        (28.838126, -4.2291, 0),
        (16.860735, -9.73455, 0),
        (18.081571, -22.86, 0),
        (16.860735, -40.21455, 0),
        (0, -49.9491, 0),
        (-16.860735, -40.21455, 0),
        (-18.081571, -22.86, 0),
        (-16.860735, -9.73455, 0),
        (-28.838126, -4.2291, 0),
        (-43.257189, 5.50545, 0),
        (-43.257189, 24.97455, 0),
        (-26.396454, 34.7091, 0),
        (-10.756555, 27.0891, 0),
    ]]
    chamfer(f2_edges, length=F2_SIZE)


solid = f1.part
